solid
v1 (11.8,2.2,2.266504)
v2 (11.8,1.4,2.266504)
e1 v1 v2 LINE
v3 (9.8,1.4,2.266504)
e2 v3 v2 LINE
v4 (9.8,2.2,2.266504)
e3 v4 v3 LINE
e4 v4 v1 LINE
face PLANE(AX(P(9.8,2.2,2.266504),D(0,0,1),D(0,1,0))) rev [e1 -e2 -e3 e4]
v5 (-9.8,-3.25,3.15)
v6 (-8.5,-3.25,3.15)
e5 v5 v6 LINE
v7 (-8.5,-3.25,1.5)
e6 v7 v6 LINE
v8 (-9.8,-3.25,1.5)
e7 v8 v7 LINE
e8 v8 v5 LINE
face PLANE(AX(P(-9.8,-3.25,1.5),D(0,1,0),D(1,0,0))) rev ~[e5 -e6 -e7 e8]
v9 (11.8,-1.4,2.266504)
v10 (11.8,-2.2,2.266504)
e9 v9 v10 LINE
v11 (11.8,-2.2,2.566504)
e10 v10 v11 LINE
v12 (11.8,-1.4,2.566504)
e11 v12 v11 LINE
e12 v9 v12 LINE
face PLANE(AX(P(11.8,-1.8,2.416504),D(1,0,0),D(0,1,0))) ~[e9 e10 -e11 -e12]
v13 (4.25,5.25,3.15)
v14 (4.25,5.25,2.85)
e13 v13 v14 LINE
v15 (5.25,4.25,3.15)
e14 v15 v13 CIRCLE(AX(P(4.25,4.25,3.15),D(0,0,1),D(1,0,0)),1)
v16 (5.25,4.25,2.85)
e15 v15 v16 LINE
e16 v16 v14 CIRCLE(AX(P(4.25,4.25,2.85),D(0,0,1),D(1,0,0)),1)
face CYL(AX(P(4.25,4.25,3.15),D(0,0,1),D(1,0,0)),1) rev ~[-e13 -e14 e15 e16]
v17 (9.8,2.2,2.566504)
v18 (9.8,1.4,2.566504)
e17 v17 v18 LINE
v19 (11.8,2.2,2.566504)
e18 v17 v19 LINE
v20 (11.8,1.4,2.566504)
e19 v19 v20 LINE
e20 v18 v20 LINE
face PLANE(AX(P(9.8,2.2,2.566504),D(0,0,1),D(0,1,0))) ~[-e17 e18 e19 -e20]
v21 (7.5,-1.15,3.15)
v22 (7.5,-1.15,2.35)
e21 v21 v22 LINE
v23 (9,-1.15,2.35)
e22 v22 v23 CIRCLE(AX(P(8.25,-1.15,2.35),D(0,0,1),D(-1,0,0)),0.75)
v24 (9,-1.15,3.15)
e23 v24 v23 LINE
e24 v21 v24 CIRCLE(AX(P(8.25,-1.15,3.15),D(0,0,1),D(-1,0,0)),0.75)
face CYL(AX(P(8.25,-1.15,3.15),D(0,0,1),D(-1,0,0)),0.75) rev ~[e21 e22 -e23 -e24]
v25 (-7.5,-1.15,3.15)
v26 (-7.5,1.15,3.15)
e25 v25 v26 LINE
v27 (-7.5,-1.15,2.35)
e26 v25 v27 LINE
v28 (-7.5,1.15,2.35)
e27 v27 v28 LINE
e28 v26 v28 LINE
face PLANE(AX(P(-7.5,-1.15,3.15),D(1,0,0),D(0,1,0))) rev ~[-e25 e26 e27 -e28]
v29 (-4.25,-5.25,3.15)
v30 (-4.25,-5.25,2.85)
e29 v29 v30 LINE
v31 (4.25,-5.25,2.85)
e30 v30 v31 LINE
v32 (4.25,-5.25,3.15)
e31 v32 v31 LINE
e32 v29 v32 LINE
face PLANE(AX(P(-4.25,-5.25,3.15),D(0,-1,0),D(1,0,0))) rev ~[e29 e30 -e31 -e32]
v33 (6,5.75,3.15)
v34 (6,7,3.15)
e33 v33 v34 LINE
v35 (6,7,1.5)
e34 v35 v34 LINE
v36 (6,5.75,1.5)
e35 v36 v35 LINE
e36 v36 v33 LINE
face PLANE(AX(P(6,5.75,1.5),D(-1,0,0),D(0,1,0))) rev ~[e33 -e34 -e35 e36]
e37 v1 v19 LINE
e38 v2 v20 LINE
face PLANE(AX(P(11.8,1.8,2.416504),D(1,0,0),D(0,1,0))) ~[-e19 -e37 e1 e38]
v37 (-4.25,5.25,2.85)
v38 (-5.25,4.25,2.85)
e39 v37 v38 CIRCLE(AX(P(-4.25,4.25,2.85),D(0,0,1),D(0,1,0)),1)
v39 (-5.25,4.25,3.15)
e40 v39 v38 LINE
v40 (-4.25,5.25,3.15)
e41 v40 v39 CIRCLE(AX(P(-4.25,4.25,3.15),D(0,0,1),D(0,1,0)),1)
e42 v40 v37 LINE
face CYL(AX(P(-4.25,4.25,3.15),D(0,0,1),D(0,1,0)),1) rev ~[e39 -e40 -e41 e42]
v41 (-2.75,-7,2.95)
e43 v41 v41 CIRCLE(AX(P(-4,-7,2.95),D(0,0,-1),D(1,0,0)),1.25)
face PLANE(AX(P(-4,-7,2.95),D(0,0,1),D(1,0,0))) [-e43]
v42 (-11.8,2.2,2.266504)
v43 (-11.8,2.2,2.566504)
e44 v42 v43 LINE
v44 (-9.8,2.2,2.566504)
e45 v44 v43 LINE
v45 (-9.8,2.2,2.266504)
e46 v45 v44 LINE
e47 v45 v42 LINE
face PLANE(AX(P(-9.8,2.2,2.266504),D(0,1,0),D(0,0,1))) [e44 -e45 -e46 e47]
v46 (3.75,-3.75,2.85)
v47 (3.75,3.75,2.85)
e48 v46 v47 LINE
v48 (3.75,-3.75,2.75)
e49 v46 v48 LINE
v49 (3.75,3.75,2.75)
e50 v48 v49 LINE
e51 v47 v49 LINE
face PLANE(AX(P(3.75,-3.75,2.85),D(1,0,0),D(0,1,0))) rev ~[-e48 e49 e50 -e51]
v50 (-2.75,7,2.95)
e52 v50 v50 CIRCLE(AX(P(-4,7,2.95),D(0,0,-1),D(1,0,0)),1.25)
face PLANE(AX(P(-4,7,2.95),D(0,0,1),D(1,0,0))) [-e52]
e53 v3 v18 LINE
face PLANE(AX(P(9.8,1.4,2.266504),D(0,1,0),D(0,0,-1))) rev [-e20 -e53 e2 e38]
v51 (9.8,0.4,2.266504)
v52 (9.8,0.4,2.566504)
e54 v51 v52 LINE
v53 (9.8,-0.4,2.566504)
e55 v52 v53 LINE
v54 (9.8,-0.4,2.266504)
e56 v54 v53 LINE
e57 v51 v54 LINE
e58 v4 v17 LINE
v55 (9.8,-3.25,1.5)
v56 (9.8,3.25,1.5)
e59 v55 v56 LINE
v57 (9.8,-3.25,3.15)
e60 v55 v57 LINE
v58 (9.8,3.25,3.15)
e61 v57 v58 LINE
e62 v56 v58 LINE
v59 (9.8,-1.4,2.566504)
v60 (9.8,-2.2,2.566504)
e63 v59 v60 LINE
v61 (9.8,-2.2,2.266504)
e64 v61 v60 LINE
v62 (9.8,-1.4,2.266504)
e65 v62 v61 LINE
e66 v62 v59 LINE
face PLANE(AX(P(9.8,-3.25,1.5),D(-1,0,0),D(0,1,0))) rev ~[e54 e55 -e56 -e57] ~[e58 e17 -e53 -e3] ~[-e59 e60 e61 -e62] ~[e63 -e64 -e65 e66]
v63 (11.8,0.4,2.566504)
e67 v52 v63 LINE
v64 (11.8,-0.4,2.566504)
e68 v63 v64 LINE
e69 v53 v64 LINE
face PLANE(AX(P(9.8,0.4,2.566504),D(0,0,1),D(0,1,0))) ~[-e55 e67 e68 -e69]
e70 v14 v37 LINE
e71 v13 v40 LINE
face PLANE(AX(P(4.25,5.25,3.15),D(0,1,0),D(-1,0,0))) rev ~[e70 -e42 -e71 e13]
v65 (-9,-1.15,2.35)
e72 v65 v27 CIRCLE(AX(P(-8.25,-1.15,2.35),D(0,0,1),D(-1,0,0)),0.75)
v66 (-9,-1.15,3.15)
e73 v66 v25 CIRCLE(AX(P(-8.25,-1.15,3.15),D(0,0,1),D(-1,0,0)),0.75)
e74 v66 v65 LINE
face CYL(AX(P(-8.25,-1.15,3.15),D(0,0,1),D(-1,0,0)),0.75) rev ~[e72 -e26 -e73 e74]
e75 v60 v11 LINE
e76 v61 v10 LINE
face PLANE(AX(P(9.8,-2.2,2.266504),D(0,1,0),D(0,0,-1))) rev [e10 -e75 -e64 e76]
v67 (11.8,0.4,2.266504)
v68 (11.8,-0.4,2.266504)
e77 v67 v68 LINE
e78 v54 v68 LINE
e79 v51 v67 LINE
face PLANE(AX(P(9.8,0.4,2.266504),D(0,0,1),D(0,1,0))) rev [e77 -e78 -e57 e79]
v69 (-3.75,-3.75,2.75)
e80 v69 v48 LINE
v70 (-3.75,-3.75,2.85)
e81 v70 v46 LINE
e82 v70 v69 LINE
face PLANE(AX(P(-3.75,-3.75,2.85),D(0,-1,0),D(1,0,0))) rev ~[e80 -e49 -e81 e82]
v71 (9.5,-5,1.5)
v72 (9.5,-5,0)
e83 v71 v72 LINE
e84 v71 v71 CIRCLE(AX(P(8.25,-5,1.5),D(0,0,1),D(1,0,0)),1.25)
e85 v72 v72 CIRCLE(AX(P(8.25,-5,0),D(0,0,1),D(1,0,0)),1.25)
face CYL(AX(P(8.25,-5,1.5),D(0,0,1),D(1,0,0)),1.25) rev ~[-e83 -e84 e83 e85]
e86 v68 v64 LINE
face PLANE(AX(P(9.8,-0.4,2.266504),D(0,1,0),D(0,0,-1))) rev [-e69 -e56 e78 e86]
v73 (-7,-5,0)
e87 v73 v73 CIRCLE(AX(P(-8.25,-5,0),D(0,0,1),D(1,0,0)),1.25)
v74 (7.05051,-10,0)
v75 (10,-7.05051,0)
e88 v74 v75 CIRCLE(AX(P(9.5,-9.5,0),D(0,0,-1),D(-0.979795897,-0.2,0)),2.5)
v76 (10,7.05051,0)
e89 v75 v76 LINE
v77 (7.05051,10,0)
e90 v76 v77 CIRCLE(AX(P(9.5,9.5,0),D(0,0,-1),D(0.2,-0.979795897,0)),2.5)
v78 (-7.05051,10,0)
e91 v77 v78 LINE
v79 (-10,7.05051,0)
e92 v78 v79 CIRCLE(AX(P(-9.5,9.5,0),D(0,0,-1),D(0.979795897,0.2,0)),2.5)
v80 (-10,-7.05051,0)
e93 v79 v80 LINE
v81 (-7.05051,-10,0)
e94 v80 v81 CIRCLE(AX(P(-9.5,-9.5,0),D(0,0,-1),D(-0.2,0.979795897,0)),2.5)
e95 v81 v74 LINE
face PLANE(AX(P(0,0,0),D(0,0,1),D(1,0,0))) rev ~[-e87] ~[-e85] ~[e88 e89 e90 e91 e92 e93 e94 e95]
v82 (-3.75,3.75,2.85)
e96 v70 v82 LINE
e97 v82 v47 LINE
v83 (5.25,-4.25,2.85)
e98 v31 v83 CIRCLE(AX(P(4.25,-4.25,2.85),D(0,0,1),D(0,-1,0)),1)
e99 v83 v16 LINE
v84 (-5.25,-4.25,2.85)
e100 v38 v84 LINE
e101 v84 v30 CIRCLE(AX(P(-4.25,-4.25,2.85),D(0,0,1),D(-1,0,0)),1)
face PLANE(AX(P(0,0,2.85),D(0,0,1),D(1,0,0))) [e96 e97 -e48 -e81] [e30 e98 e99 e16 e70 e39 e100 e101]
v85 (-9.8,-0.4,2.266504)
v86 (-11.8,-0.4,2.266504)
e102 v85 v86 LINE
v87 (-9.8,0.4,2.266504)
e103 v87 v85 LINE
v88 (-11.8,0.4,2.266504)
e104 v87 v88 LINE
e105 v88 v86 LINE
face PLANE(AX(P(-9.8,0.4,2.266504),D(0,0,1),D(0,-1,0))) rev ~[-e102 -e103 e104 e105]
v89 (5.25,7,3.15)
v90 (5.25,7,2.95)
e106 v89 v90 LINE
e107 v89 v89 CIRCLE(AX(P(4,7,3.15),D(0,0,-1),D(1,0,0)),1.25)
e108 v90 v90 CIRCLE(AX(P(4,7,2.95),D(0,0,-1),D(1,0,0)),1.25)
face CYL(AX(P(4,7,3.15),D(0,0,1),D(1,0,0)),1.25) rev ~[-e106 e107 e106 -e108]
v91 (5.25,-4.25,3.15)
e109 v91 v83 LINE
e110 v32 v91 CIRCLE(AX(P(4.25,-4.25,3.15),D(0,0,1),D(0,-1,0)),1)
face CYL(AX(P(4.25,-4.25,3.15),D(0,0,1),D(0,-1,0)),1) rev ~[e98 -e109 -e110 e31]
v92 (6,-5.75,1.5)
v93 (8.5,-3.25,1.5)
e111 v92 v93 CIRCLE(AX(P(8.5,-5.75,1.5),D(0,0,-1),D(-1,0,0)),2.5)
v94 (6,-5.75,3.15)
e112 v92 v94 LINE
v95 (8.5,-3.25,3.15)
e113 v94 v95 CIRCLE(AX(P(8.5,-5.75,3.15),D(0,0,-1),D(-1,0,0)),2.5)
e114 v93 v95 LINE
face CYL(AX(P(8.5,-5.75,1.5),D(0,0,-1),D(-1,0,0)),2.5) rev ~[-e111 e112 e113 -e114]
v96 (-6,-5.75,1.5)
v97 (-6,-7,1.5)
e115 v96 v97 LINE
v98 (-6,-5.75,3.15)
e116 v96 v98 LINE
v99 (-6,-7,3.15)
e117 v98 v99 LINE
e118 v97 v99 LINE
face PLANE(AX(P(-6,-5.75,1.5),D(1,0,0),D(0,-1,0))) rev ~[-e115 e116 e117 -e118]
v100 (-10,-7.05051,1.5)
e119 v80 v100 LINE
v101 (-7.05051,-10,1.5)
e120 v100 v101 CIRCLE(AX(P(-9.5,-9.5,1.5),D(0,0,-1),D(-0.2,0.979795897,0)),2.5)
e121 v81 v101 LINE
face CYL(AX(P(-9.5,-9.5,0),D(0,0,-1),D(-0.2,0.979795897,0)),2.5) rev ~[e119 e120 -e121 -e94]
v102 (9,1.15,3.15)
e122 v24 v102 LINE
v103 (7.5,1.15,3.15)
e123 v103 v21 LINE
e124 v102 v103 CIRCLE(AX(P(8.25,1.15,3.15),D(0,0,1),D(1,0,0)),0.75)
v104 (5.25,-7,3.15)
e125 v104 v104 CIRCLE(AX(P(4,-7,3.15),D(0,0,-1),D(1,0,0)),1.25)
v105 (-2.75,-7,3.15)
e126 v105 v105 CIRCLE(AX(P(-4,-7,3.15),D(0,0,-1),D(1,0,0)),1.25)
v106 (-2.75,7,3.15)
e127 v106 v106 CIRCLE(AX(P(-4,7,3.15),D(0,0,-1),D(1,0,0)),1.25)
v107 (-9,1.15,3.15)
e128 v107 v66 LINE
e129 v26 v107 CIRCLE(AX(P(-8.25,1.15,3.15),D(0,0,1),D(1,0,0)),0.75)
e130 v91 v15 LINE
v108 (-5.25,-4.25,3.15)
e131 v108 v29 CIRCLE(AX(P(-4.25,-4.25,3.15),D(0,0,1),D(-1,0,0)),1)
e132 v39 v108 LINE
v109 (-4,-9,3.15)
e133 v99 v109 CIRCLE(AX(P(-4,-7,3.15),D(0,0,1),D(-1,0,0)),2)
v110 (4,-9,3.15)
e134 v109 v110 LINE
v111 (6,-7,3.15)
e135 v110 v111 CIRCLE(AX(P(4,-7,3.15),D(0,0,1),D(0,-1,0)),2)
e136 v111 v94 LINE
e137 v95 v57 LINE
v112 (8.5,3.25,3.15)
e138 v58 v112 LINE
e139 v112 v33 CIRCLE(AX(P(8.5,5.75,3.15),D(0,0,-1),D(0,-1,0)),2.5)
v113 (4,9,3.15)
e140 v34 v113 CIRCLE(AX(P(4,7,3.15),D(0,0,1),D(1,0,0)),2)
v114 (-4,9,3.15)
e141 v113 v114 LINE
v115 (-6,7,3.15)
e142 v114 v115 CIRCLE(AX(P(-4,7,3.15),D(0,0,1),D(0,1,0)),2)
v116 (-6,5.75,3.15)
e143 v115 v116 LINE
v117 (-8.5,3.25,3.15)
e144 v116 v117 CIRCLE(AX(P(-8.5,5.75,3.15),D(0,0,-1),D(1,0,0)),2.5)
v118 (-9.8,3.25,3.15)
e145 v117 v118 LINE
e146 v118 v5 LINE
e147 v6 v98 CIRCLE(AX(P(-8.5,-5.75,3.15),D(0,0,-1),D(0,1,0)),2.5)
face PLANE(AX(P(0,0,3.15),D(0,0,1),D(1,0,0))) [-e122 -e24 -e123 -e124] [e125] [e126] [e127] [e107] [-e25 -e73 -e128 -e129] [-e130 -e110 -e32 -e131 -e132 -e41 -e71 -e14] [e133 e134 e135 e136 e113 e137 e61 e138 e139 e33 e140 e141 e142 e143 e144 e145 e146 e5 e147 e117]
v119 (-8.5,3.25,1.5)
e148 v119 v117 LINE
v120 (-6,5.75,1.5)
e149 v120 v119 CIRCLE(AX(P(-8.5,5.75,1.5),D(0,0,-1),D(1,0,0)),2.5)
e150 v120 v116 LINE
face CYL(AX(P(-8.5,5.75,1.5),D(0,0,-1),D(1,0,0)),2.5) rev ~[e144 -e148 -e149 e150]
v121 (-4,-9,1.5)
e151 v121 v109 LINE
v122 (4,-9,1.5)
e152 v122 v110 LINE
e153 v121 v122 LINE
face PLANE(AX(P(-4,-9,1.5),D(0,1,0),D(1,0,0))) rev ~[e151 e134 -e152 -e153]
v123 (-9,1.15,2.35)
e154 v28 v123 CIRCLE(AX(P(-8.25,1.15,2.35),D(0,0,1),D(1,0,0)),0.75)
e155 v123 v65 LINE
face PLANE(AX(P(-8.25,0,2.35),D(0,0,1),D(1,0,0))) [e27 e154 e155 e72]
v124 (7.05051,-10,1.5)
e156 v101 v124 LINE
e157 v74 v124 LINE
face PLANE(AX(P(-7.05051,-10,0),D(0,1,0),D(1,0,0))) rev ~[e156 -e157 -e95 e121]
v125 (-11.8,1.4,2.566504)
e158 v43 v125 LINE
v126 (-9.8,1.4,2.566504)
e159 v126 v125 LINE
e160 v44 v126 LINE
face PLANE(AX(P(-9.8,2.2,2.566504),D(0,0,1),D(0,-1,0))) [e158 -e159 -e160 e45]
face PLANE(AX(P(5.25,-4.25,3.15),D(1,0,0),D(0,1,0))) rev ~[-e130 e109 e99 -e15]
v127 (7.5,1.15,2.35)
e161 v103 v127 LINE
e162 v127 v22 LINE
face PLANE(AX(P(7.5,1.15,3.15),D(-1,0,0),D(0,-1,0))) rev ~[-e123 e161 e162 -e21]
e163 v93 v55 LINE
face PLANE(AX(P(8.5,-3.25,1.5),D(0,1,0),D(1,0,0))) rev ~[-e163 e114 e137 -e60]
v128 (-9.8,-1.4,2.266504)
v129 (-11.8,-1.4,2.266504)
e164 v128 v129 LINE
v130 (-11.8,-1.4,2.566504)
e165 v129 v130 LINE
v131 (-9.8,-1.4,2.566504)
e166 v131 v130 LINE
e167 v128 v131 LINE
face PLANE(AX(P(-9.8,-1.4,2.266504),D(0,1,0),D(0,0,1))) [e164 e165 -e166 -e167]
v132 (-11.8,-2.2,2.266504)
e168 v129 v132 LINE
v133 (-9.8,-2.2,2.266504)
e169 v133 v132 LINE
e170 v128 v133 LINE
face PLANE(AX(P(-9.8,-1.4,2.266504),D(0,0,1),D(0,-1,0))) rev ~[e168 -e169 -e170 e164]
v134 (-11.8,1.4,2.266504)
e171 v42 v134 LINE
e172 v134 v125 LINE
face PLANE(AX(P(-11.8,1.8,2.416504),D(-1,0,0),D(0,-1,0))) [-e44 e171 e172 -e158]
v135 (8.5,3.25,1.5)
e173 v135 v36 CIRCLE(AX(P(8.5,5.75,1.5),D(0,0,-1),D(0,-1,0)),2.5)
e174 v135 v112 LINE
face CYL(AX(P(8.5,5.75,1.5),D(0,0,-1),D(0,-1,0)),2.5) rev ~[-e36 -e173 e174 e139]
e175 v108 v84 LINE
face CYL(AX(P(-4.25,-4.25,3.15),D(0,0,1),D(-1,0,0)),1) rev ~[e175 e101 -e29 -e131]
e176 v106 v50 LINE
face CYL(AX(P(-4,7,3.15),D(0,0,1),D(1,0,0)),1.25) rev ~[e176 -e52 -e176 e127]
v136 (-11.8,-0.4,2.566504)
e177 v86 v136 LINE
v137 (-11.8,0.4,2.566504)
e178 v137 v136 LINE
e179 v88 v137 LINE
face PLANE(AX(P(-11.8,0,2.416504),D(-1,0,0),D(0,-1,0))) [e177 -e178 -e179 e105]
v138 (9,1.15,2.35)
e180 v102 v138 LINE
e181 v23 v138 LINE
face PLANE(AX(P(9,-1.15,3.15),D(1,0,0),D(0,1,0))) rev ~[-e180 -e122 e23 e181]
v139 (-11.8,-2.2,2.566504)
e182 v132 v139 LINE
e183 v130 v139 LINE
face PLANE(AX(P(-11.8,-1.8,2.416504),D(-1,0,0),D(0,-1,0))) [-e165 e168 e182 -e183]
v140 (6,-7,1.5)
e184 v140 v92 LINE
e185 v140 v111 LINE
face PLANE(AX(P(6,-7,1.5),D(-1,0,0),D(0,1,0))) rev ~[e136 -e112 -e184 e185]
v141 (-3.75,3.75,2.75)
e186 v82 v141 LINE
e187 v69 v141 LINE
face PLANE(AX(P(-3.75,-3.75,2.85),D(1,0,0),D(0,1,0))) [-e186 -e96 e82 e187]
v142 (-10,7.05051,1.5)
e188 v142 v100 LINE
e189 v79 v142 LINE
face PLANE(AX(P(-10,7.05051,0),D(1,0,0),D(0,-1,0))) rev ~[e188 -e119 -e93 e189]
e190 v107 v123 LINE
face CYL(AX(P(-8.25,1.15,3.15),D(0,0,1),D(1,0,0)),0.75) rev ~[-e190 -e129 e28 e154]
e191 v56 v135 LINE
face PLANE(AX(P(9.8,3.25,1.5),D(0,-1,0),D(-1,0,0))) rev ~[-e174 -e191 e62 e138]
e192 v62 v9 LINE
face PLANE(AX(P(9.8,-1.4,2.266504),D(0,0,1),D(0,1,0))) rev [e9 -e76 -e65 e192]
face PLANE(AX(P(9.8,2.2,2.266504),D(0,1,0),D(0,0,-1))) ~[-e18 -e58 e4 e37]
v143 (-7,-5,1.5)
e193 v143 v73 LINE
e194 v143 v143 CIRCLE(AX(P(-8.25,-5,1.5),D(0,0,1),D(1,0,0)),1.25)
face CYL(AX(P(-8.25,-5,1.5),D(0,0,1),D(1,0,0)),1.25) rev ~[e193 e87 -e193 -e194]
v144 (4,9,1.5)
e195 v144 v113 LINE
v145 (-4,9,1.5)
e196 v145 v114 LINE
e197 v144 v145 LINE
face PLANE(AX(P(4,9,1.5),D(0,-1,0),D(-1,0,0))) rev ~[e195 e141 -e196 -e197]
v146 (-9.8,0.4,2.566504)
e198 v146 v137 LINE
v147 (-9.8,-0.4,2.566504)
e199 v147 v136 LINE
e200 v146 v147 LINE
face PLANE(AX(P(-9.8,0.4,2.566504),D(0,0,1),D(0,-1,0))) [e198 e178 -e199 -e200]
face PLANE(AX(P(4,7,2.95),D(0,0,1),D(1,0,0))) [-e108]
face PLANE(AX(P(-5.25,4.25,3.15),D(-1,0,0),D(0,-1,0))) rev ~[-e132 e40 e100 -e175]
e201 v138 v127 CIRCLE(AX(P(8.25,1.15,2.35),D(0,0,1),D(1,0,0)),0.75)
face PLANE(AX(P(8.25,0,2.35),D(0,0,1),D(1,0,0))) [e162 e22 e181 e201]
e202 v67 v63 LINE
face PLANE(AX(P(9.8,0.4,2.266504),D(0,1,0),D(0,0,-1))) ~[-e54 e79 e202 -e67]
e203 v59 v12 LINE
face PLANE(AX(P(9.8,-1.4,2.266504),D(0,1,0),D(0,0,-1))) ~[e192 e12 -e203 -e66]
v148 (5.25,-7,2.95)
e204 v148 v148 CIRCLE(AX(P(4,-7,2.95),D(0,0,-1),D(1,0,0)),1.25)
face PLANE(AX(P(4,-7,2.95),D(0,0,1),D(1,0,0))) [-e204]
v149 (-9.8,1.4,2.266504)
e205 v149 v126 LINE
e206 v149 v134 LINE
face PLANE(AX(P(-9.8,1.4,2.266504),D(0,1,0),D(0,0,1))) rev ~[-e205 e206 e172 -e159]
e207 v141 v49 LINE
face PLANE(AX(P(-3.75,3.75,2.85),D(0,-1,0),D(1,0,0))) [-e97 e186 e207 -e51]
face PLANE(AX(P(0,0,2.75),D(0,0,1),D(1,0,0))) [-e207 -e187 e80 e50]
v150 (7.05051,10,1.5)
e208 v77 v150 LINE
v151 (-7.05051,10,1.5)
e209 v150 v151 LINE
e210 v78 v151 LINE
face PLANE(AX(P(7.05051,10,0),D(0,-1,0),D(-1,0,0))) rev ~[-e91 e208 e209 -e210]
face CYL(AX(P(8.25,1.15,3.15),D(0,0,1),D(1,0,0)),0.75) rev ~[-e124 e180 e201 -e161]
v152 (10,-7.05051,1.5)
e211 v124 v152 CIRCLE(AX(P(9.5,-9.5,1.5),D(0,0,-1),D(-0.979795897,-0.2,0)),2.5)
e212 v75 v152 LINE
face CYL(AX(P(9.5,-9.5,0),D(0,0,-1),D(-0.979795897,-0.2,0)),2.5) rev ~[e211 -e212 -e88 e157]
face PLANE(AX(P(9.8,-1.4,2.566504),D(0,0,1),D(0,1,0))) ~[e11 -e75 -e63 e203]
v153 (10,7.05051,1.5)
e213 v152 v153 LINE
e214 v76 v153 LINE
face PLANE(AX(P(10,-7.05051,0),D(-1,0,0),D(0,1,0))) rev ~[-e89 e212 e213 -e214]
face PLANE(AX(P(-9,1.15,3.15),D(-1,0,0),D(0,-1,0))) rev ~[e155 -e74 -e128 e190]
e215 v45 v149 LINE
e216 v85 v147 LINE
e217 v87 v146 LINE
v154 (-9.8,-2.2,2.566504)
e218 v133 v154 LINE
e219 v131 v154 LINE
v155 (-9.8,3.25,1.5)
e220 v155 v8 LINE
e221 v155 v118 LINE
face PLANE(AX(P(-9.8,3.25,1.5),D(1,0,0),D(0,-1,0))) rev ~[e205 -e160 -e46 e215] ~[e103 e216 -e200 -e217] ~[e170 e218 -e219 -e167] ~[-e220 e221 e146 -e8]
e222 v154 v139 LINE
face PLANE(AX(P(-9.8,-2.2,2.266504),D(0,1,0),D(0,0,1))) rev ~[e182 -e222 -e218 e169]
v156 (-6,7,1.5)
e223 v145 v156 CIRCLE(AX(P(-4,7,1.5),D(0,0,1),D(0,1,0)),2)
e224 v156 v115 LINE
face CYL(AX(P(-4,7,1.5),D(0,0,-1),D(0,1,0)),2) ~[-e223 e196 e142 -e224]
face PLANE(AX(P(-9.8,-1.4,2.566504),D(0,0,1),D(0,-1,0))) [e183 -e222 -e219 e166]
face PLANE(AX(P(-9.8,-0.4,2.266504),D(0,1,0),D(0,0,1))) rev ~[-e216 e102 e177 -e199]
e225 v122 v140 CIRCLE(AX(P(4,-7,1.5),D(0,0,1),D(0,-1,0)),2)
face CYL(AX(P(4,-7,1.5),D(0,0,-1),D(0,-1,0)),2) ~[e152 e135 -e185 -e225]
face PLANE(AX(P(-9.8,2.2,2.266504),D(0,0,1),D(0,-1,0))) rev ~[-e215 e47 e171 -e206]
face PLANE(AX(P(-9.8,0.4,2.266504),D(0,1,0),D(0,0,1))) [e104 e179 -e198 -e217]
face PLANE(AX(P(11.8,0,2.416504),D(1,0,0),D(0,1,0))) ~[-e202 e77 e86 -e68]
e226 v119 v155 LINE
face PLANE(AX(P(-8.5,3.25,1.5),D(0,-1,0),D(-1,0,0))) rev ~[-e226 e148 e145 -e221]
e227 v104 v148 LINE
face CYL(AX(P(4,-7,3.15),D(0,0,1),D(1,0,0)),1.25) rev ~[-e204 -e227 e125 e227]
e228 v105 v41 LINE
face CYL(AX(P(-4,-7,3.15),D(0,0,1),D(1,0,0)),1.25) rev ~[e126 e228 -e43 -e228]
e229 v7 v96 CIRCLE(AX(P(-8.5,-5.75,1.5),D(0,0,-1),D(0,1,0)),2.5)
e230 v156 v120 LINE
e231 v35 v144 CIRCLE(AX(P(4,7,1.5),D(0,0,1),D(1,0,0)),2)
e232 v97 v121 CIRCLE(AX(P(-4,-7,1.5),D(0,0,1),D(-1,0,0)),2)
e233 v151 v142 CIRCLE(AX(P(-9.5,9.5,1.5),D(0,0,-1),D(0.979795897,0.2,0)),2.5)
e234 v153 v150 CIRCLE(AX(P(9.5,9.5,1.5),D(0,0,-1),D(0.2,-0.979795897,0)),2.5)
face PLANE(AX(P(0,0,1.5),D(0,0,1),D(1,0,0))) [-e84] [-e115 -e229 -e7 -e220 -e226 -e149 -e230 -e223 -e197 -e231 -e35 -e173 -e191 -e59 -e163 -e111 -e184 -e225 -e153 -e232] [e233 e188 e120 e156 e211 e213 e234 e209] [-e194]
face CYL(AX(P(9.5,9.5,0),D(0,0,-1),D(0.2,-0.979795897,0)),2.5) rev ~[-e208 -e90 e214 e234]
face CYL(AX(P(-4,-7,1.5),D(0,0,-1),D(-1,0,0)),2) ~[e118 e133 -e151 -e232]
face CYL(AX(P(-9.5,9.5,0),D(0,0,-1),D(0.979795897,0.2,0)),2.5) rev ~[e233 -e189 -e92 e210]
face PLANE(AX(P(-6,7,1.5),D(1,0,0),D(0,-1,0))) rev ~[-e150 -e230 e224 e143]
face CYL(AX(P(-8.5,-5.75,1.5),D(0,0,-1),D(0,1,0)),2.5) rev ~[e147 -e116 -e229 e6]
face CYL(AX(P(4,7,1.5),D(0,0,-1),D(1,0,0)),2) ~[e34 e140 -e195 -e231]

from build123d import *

# Parameters (mm, degrees)
F1_DEPTH  = 1.5
F3_DEPTH  = 1.65
F5_DEPTH  = 0.3
F6_R      = 1.25
F7_DEPTH  = 0.2
F8_W      = 0.8
F8_H      = 0.3
F9_DEPTH  = 2
F11_R     = 1.25
F12_DEPTH = 1.5
F14_DEPTH = 0.8
F15_W     = 7.5
F15_H     = 7.5
F16_DEPTH = 0.1


with BuildPart() as f1:
    # F0 (on Top) → F1 (new body)
    with BuildSketch(Plane.XY):
        with BuildLine():
            ThreePointArc((-7.0505102572, 10), (-7.732233047, 7.732233047), (-10, 7.0505102572))
            Line((-10, 7.0505102572), (-10, -7.0505102572))
            ThreePointArc((-10, -7.0505102572), (-7.732233047, -7.732233047), (-7.0505102572, -10))
            Line((-7.0505102572, -10), (7.0505102572, -10))
            ThreePointArc((7.0505102572, -10), (7.732233047, -7.732233047), (10, -7.0505102572))
            Line((10, -7.0505102572), (10, 7.0505102572))
            ThreePointArc((10, 7.0505102572), (7.732233047, 7.732233047), (7.0505102572, 10))
            Line((7.0505102572, 10), (-7.0505102572, 10))
        make_face()
    extrude(amount=F1_DEPTH)

    # F2 (on face) → F3 (join)
    with BuildSketch(Plane.XY.offset(1.5)):
        with BuildLine():
            Line((-6, 7), (-6, 5.75))
            ThreePointArc((-6, 5.75), (-6.732233047, 3.982233047), (-8.5, 3.25))
            Line((-8.5, 3.25), (-9.8, 3.25))
            Line((-9.8, 3.25), (-9.8, -3.25))
            Line((-9.8, -3.25), (-8.5, -3.25))
            ThreePointArc((-8.5, -3.25), (-6.732233047, -3.982233047), (-6, -5.75))
            Line((-6, -5.75), (-6, -7))
            ThreePointArc((-6, -7), (-5.4142135624, -8.4142135624), (-4, -9))
            Line((-4, -9), (4, -9))
            ThreePointArc((4, -9), (5.4142135624, -8.4142135624), (6, -7))
            Line((6, -7), (6, -5.75))
            ThreePointArc((6, -5.75), (6.732233047, -3.982233047), (8.5, -3.25))
            Line((8.5, -3.25), (9.8, -3.25))
            Line((9.8, -3.25), (9.8, 3.25))
            Line((9.8, 3.25), (8.5, 3.25))
            ThreePointArc((8.5, 3.25), (6.732233047, 3.982233047), (6, 5.75))
            Line((6, 5.75), (6, 7))
            ThreePointArc((6, 7), (5.4142135624, 8.4142135624), (4, 9))
            Line((4, 9), (-4, 9))
            ThreePointArc((-4, 9), (-5.4142135624, 8.4142135624), (-6, 7))
        make_face()
    extrude(amount=F3_DEPTH)

    # F4 (on face) → F5 (cut)
    with BuildSketch(Plane.XY.offset(3.15)):
        with BuildLine():
            Line((4.25, 5.25), (-4.25, 5.25))
            ThreePointArc((-4.25, 5.25), (-4.9571067812, 4.9571067812), (-5.25, 4.25))
            Line((-5.25, 4.25), (-5.25, -4.25))
            ThreePointArc((-5.25, -4.25), (-4.9571067812, -4.9571067812), (-4.25, -5.25))
            Line((-4.25, -5.25), (4.25, -5.25))
            ThreePointArc((4.25, -5.25), (4.9571067812, -4.9571067812), (5.25, -4.25))
            Line((5.25, -4.25), (5.25, 4.25))
            ThreePointArc((5.25, 4.25), (4.9571067812, 4.9571067812), (4.25, 5.25))
        make_face()
    extrude(amount=-F5_DEPTH, mode=Mode.SUBTRACT)

    # F6 (on face) → F7 (cut)
    with BuildSketch(Plane.XY.offset(3.15)):
        with Locations((-4, 7)):
            Circle(F6_R)
        with Locations((4, 7)):
            Circle(F6_R)
        with Locations((-4, -7)):
            Circle(F6_R)
        with Locations((4, -7)):
            Circle(F6_R)
    extrude(amount=-F7_DEPTH, mode=Mode.SUBTRACT)

    # F8 (on face) → F9 (join)
    with BuildSketch(Plane(origin=(-9.8, 0, 0), x_dir=(0, -1, 0), z_dir=(-1, 0, 0))):
        with Locations((0, 2.4165040218)):
            Rectangle(F8_W, F8_H)
        with Locations((1.8, 2.4165040218)):
            Rectangle(F8_W, F8_H)
        with Locations((-1.8, 2.4165040218)):
            Rectangle(F8_W, F8_H)
    extrude(amount=F9_DEPTH)

    # F10: F1 across plane


with BuildPart() as f1_1:
    add(f1.part)
    add(f1.part.mirror(Plane.YZ))

    # F11 (on face) → F12 (cut, through all)
    with BuildSketch(Plane.XY.offset(1.5)):
        with Locations((-8.25, -5)):
            Circle(F11_R)
        with Locations((8.25, -5)):
            Circle(F11_R)
    extrude(amount=-F12_DEPTH, mode=Mode.SUBTRACT)

    # F13 (on face) → F14 (cut)
    with BuildSketch(Plane.XY.offset(3.15)):
        with BuildLine():
            ThreePointArc((-7.5, 1.15), (-8.25, 1.9), (-9, 1.15))
            Line((-9, 1.15), (-9, -1.15))
            ThreePointArc((-9, -1.15), (-8.25, -1.9), (-7.5, -1.15))
            Line((-7.5, -1.15), (-7.5, 1.15))
        make_face()
        with BuildLine():
            ThreePointArc((7.5, -1.15), (8.25, -1.9), (9, -1.15))
            Line((9, -1.15), (9, 1.15))
            ThreePointArc((9, 1.15), (8.25, 1.9), (7.5, 1.15))
            Line((7.5, 1.15), (7.5, -1.15))
        make_face()
    extrude(amount=-F14_DEPTH, mode=Mode.SUBTRACT)

    # F15 (on face) → F16 (cut)
    with BuildSketch(Plane.XY.offset(2.85)):
        Rectangle(F15_W, F15_H)
    extrude(amount=-F16_DEPTH, mode=Mode.SUBTRACT)


solid = f1_1.part
